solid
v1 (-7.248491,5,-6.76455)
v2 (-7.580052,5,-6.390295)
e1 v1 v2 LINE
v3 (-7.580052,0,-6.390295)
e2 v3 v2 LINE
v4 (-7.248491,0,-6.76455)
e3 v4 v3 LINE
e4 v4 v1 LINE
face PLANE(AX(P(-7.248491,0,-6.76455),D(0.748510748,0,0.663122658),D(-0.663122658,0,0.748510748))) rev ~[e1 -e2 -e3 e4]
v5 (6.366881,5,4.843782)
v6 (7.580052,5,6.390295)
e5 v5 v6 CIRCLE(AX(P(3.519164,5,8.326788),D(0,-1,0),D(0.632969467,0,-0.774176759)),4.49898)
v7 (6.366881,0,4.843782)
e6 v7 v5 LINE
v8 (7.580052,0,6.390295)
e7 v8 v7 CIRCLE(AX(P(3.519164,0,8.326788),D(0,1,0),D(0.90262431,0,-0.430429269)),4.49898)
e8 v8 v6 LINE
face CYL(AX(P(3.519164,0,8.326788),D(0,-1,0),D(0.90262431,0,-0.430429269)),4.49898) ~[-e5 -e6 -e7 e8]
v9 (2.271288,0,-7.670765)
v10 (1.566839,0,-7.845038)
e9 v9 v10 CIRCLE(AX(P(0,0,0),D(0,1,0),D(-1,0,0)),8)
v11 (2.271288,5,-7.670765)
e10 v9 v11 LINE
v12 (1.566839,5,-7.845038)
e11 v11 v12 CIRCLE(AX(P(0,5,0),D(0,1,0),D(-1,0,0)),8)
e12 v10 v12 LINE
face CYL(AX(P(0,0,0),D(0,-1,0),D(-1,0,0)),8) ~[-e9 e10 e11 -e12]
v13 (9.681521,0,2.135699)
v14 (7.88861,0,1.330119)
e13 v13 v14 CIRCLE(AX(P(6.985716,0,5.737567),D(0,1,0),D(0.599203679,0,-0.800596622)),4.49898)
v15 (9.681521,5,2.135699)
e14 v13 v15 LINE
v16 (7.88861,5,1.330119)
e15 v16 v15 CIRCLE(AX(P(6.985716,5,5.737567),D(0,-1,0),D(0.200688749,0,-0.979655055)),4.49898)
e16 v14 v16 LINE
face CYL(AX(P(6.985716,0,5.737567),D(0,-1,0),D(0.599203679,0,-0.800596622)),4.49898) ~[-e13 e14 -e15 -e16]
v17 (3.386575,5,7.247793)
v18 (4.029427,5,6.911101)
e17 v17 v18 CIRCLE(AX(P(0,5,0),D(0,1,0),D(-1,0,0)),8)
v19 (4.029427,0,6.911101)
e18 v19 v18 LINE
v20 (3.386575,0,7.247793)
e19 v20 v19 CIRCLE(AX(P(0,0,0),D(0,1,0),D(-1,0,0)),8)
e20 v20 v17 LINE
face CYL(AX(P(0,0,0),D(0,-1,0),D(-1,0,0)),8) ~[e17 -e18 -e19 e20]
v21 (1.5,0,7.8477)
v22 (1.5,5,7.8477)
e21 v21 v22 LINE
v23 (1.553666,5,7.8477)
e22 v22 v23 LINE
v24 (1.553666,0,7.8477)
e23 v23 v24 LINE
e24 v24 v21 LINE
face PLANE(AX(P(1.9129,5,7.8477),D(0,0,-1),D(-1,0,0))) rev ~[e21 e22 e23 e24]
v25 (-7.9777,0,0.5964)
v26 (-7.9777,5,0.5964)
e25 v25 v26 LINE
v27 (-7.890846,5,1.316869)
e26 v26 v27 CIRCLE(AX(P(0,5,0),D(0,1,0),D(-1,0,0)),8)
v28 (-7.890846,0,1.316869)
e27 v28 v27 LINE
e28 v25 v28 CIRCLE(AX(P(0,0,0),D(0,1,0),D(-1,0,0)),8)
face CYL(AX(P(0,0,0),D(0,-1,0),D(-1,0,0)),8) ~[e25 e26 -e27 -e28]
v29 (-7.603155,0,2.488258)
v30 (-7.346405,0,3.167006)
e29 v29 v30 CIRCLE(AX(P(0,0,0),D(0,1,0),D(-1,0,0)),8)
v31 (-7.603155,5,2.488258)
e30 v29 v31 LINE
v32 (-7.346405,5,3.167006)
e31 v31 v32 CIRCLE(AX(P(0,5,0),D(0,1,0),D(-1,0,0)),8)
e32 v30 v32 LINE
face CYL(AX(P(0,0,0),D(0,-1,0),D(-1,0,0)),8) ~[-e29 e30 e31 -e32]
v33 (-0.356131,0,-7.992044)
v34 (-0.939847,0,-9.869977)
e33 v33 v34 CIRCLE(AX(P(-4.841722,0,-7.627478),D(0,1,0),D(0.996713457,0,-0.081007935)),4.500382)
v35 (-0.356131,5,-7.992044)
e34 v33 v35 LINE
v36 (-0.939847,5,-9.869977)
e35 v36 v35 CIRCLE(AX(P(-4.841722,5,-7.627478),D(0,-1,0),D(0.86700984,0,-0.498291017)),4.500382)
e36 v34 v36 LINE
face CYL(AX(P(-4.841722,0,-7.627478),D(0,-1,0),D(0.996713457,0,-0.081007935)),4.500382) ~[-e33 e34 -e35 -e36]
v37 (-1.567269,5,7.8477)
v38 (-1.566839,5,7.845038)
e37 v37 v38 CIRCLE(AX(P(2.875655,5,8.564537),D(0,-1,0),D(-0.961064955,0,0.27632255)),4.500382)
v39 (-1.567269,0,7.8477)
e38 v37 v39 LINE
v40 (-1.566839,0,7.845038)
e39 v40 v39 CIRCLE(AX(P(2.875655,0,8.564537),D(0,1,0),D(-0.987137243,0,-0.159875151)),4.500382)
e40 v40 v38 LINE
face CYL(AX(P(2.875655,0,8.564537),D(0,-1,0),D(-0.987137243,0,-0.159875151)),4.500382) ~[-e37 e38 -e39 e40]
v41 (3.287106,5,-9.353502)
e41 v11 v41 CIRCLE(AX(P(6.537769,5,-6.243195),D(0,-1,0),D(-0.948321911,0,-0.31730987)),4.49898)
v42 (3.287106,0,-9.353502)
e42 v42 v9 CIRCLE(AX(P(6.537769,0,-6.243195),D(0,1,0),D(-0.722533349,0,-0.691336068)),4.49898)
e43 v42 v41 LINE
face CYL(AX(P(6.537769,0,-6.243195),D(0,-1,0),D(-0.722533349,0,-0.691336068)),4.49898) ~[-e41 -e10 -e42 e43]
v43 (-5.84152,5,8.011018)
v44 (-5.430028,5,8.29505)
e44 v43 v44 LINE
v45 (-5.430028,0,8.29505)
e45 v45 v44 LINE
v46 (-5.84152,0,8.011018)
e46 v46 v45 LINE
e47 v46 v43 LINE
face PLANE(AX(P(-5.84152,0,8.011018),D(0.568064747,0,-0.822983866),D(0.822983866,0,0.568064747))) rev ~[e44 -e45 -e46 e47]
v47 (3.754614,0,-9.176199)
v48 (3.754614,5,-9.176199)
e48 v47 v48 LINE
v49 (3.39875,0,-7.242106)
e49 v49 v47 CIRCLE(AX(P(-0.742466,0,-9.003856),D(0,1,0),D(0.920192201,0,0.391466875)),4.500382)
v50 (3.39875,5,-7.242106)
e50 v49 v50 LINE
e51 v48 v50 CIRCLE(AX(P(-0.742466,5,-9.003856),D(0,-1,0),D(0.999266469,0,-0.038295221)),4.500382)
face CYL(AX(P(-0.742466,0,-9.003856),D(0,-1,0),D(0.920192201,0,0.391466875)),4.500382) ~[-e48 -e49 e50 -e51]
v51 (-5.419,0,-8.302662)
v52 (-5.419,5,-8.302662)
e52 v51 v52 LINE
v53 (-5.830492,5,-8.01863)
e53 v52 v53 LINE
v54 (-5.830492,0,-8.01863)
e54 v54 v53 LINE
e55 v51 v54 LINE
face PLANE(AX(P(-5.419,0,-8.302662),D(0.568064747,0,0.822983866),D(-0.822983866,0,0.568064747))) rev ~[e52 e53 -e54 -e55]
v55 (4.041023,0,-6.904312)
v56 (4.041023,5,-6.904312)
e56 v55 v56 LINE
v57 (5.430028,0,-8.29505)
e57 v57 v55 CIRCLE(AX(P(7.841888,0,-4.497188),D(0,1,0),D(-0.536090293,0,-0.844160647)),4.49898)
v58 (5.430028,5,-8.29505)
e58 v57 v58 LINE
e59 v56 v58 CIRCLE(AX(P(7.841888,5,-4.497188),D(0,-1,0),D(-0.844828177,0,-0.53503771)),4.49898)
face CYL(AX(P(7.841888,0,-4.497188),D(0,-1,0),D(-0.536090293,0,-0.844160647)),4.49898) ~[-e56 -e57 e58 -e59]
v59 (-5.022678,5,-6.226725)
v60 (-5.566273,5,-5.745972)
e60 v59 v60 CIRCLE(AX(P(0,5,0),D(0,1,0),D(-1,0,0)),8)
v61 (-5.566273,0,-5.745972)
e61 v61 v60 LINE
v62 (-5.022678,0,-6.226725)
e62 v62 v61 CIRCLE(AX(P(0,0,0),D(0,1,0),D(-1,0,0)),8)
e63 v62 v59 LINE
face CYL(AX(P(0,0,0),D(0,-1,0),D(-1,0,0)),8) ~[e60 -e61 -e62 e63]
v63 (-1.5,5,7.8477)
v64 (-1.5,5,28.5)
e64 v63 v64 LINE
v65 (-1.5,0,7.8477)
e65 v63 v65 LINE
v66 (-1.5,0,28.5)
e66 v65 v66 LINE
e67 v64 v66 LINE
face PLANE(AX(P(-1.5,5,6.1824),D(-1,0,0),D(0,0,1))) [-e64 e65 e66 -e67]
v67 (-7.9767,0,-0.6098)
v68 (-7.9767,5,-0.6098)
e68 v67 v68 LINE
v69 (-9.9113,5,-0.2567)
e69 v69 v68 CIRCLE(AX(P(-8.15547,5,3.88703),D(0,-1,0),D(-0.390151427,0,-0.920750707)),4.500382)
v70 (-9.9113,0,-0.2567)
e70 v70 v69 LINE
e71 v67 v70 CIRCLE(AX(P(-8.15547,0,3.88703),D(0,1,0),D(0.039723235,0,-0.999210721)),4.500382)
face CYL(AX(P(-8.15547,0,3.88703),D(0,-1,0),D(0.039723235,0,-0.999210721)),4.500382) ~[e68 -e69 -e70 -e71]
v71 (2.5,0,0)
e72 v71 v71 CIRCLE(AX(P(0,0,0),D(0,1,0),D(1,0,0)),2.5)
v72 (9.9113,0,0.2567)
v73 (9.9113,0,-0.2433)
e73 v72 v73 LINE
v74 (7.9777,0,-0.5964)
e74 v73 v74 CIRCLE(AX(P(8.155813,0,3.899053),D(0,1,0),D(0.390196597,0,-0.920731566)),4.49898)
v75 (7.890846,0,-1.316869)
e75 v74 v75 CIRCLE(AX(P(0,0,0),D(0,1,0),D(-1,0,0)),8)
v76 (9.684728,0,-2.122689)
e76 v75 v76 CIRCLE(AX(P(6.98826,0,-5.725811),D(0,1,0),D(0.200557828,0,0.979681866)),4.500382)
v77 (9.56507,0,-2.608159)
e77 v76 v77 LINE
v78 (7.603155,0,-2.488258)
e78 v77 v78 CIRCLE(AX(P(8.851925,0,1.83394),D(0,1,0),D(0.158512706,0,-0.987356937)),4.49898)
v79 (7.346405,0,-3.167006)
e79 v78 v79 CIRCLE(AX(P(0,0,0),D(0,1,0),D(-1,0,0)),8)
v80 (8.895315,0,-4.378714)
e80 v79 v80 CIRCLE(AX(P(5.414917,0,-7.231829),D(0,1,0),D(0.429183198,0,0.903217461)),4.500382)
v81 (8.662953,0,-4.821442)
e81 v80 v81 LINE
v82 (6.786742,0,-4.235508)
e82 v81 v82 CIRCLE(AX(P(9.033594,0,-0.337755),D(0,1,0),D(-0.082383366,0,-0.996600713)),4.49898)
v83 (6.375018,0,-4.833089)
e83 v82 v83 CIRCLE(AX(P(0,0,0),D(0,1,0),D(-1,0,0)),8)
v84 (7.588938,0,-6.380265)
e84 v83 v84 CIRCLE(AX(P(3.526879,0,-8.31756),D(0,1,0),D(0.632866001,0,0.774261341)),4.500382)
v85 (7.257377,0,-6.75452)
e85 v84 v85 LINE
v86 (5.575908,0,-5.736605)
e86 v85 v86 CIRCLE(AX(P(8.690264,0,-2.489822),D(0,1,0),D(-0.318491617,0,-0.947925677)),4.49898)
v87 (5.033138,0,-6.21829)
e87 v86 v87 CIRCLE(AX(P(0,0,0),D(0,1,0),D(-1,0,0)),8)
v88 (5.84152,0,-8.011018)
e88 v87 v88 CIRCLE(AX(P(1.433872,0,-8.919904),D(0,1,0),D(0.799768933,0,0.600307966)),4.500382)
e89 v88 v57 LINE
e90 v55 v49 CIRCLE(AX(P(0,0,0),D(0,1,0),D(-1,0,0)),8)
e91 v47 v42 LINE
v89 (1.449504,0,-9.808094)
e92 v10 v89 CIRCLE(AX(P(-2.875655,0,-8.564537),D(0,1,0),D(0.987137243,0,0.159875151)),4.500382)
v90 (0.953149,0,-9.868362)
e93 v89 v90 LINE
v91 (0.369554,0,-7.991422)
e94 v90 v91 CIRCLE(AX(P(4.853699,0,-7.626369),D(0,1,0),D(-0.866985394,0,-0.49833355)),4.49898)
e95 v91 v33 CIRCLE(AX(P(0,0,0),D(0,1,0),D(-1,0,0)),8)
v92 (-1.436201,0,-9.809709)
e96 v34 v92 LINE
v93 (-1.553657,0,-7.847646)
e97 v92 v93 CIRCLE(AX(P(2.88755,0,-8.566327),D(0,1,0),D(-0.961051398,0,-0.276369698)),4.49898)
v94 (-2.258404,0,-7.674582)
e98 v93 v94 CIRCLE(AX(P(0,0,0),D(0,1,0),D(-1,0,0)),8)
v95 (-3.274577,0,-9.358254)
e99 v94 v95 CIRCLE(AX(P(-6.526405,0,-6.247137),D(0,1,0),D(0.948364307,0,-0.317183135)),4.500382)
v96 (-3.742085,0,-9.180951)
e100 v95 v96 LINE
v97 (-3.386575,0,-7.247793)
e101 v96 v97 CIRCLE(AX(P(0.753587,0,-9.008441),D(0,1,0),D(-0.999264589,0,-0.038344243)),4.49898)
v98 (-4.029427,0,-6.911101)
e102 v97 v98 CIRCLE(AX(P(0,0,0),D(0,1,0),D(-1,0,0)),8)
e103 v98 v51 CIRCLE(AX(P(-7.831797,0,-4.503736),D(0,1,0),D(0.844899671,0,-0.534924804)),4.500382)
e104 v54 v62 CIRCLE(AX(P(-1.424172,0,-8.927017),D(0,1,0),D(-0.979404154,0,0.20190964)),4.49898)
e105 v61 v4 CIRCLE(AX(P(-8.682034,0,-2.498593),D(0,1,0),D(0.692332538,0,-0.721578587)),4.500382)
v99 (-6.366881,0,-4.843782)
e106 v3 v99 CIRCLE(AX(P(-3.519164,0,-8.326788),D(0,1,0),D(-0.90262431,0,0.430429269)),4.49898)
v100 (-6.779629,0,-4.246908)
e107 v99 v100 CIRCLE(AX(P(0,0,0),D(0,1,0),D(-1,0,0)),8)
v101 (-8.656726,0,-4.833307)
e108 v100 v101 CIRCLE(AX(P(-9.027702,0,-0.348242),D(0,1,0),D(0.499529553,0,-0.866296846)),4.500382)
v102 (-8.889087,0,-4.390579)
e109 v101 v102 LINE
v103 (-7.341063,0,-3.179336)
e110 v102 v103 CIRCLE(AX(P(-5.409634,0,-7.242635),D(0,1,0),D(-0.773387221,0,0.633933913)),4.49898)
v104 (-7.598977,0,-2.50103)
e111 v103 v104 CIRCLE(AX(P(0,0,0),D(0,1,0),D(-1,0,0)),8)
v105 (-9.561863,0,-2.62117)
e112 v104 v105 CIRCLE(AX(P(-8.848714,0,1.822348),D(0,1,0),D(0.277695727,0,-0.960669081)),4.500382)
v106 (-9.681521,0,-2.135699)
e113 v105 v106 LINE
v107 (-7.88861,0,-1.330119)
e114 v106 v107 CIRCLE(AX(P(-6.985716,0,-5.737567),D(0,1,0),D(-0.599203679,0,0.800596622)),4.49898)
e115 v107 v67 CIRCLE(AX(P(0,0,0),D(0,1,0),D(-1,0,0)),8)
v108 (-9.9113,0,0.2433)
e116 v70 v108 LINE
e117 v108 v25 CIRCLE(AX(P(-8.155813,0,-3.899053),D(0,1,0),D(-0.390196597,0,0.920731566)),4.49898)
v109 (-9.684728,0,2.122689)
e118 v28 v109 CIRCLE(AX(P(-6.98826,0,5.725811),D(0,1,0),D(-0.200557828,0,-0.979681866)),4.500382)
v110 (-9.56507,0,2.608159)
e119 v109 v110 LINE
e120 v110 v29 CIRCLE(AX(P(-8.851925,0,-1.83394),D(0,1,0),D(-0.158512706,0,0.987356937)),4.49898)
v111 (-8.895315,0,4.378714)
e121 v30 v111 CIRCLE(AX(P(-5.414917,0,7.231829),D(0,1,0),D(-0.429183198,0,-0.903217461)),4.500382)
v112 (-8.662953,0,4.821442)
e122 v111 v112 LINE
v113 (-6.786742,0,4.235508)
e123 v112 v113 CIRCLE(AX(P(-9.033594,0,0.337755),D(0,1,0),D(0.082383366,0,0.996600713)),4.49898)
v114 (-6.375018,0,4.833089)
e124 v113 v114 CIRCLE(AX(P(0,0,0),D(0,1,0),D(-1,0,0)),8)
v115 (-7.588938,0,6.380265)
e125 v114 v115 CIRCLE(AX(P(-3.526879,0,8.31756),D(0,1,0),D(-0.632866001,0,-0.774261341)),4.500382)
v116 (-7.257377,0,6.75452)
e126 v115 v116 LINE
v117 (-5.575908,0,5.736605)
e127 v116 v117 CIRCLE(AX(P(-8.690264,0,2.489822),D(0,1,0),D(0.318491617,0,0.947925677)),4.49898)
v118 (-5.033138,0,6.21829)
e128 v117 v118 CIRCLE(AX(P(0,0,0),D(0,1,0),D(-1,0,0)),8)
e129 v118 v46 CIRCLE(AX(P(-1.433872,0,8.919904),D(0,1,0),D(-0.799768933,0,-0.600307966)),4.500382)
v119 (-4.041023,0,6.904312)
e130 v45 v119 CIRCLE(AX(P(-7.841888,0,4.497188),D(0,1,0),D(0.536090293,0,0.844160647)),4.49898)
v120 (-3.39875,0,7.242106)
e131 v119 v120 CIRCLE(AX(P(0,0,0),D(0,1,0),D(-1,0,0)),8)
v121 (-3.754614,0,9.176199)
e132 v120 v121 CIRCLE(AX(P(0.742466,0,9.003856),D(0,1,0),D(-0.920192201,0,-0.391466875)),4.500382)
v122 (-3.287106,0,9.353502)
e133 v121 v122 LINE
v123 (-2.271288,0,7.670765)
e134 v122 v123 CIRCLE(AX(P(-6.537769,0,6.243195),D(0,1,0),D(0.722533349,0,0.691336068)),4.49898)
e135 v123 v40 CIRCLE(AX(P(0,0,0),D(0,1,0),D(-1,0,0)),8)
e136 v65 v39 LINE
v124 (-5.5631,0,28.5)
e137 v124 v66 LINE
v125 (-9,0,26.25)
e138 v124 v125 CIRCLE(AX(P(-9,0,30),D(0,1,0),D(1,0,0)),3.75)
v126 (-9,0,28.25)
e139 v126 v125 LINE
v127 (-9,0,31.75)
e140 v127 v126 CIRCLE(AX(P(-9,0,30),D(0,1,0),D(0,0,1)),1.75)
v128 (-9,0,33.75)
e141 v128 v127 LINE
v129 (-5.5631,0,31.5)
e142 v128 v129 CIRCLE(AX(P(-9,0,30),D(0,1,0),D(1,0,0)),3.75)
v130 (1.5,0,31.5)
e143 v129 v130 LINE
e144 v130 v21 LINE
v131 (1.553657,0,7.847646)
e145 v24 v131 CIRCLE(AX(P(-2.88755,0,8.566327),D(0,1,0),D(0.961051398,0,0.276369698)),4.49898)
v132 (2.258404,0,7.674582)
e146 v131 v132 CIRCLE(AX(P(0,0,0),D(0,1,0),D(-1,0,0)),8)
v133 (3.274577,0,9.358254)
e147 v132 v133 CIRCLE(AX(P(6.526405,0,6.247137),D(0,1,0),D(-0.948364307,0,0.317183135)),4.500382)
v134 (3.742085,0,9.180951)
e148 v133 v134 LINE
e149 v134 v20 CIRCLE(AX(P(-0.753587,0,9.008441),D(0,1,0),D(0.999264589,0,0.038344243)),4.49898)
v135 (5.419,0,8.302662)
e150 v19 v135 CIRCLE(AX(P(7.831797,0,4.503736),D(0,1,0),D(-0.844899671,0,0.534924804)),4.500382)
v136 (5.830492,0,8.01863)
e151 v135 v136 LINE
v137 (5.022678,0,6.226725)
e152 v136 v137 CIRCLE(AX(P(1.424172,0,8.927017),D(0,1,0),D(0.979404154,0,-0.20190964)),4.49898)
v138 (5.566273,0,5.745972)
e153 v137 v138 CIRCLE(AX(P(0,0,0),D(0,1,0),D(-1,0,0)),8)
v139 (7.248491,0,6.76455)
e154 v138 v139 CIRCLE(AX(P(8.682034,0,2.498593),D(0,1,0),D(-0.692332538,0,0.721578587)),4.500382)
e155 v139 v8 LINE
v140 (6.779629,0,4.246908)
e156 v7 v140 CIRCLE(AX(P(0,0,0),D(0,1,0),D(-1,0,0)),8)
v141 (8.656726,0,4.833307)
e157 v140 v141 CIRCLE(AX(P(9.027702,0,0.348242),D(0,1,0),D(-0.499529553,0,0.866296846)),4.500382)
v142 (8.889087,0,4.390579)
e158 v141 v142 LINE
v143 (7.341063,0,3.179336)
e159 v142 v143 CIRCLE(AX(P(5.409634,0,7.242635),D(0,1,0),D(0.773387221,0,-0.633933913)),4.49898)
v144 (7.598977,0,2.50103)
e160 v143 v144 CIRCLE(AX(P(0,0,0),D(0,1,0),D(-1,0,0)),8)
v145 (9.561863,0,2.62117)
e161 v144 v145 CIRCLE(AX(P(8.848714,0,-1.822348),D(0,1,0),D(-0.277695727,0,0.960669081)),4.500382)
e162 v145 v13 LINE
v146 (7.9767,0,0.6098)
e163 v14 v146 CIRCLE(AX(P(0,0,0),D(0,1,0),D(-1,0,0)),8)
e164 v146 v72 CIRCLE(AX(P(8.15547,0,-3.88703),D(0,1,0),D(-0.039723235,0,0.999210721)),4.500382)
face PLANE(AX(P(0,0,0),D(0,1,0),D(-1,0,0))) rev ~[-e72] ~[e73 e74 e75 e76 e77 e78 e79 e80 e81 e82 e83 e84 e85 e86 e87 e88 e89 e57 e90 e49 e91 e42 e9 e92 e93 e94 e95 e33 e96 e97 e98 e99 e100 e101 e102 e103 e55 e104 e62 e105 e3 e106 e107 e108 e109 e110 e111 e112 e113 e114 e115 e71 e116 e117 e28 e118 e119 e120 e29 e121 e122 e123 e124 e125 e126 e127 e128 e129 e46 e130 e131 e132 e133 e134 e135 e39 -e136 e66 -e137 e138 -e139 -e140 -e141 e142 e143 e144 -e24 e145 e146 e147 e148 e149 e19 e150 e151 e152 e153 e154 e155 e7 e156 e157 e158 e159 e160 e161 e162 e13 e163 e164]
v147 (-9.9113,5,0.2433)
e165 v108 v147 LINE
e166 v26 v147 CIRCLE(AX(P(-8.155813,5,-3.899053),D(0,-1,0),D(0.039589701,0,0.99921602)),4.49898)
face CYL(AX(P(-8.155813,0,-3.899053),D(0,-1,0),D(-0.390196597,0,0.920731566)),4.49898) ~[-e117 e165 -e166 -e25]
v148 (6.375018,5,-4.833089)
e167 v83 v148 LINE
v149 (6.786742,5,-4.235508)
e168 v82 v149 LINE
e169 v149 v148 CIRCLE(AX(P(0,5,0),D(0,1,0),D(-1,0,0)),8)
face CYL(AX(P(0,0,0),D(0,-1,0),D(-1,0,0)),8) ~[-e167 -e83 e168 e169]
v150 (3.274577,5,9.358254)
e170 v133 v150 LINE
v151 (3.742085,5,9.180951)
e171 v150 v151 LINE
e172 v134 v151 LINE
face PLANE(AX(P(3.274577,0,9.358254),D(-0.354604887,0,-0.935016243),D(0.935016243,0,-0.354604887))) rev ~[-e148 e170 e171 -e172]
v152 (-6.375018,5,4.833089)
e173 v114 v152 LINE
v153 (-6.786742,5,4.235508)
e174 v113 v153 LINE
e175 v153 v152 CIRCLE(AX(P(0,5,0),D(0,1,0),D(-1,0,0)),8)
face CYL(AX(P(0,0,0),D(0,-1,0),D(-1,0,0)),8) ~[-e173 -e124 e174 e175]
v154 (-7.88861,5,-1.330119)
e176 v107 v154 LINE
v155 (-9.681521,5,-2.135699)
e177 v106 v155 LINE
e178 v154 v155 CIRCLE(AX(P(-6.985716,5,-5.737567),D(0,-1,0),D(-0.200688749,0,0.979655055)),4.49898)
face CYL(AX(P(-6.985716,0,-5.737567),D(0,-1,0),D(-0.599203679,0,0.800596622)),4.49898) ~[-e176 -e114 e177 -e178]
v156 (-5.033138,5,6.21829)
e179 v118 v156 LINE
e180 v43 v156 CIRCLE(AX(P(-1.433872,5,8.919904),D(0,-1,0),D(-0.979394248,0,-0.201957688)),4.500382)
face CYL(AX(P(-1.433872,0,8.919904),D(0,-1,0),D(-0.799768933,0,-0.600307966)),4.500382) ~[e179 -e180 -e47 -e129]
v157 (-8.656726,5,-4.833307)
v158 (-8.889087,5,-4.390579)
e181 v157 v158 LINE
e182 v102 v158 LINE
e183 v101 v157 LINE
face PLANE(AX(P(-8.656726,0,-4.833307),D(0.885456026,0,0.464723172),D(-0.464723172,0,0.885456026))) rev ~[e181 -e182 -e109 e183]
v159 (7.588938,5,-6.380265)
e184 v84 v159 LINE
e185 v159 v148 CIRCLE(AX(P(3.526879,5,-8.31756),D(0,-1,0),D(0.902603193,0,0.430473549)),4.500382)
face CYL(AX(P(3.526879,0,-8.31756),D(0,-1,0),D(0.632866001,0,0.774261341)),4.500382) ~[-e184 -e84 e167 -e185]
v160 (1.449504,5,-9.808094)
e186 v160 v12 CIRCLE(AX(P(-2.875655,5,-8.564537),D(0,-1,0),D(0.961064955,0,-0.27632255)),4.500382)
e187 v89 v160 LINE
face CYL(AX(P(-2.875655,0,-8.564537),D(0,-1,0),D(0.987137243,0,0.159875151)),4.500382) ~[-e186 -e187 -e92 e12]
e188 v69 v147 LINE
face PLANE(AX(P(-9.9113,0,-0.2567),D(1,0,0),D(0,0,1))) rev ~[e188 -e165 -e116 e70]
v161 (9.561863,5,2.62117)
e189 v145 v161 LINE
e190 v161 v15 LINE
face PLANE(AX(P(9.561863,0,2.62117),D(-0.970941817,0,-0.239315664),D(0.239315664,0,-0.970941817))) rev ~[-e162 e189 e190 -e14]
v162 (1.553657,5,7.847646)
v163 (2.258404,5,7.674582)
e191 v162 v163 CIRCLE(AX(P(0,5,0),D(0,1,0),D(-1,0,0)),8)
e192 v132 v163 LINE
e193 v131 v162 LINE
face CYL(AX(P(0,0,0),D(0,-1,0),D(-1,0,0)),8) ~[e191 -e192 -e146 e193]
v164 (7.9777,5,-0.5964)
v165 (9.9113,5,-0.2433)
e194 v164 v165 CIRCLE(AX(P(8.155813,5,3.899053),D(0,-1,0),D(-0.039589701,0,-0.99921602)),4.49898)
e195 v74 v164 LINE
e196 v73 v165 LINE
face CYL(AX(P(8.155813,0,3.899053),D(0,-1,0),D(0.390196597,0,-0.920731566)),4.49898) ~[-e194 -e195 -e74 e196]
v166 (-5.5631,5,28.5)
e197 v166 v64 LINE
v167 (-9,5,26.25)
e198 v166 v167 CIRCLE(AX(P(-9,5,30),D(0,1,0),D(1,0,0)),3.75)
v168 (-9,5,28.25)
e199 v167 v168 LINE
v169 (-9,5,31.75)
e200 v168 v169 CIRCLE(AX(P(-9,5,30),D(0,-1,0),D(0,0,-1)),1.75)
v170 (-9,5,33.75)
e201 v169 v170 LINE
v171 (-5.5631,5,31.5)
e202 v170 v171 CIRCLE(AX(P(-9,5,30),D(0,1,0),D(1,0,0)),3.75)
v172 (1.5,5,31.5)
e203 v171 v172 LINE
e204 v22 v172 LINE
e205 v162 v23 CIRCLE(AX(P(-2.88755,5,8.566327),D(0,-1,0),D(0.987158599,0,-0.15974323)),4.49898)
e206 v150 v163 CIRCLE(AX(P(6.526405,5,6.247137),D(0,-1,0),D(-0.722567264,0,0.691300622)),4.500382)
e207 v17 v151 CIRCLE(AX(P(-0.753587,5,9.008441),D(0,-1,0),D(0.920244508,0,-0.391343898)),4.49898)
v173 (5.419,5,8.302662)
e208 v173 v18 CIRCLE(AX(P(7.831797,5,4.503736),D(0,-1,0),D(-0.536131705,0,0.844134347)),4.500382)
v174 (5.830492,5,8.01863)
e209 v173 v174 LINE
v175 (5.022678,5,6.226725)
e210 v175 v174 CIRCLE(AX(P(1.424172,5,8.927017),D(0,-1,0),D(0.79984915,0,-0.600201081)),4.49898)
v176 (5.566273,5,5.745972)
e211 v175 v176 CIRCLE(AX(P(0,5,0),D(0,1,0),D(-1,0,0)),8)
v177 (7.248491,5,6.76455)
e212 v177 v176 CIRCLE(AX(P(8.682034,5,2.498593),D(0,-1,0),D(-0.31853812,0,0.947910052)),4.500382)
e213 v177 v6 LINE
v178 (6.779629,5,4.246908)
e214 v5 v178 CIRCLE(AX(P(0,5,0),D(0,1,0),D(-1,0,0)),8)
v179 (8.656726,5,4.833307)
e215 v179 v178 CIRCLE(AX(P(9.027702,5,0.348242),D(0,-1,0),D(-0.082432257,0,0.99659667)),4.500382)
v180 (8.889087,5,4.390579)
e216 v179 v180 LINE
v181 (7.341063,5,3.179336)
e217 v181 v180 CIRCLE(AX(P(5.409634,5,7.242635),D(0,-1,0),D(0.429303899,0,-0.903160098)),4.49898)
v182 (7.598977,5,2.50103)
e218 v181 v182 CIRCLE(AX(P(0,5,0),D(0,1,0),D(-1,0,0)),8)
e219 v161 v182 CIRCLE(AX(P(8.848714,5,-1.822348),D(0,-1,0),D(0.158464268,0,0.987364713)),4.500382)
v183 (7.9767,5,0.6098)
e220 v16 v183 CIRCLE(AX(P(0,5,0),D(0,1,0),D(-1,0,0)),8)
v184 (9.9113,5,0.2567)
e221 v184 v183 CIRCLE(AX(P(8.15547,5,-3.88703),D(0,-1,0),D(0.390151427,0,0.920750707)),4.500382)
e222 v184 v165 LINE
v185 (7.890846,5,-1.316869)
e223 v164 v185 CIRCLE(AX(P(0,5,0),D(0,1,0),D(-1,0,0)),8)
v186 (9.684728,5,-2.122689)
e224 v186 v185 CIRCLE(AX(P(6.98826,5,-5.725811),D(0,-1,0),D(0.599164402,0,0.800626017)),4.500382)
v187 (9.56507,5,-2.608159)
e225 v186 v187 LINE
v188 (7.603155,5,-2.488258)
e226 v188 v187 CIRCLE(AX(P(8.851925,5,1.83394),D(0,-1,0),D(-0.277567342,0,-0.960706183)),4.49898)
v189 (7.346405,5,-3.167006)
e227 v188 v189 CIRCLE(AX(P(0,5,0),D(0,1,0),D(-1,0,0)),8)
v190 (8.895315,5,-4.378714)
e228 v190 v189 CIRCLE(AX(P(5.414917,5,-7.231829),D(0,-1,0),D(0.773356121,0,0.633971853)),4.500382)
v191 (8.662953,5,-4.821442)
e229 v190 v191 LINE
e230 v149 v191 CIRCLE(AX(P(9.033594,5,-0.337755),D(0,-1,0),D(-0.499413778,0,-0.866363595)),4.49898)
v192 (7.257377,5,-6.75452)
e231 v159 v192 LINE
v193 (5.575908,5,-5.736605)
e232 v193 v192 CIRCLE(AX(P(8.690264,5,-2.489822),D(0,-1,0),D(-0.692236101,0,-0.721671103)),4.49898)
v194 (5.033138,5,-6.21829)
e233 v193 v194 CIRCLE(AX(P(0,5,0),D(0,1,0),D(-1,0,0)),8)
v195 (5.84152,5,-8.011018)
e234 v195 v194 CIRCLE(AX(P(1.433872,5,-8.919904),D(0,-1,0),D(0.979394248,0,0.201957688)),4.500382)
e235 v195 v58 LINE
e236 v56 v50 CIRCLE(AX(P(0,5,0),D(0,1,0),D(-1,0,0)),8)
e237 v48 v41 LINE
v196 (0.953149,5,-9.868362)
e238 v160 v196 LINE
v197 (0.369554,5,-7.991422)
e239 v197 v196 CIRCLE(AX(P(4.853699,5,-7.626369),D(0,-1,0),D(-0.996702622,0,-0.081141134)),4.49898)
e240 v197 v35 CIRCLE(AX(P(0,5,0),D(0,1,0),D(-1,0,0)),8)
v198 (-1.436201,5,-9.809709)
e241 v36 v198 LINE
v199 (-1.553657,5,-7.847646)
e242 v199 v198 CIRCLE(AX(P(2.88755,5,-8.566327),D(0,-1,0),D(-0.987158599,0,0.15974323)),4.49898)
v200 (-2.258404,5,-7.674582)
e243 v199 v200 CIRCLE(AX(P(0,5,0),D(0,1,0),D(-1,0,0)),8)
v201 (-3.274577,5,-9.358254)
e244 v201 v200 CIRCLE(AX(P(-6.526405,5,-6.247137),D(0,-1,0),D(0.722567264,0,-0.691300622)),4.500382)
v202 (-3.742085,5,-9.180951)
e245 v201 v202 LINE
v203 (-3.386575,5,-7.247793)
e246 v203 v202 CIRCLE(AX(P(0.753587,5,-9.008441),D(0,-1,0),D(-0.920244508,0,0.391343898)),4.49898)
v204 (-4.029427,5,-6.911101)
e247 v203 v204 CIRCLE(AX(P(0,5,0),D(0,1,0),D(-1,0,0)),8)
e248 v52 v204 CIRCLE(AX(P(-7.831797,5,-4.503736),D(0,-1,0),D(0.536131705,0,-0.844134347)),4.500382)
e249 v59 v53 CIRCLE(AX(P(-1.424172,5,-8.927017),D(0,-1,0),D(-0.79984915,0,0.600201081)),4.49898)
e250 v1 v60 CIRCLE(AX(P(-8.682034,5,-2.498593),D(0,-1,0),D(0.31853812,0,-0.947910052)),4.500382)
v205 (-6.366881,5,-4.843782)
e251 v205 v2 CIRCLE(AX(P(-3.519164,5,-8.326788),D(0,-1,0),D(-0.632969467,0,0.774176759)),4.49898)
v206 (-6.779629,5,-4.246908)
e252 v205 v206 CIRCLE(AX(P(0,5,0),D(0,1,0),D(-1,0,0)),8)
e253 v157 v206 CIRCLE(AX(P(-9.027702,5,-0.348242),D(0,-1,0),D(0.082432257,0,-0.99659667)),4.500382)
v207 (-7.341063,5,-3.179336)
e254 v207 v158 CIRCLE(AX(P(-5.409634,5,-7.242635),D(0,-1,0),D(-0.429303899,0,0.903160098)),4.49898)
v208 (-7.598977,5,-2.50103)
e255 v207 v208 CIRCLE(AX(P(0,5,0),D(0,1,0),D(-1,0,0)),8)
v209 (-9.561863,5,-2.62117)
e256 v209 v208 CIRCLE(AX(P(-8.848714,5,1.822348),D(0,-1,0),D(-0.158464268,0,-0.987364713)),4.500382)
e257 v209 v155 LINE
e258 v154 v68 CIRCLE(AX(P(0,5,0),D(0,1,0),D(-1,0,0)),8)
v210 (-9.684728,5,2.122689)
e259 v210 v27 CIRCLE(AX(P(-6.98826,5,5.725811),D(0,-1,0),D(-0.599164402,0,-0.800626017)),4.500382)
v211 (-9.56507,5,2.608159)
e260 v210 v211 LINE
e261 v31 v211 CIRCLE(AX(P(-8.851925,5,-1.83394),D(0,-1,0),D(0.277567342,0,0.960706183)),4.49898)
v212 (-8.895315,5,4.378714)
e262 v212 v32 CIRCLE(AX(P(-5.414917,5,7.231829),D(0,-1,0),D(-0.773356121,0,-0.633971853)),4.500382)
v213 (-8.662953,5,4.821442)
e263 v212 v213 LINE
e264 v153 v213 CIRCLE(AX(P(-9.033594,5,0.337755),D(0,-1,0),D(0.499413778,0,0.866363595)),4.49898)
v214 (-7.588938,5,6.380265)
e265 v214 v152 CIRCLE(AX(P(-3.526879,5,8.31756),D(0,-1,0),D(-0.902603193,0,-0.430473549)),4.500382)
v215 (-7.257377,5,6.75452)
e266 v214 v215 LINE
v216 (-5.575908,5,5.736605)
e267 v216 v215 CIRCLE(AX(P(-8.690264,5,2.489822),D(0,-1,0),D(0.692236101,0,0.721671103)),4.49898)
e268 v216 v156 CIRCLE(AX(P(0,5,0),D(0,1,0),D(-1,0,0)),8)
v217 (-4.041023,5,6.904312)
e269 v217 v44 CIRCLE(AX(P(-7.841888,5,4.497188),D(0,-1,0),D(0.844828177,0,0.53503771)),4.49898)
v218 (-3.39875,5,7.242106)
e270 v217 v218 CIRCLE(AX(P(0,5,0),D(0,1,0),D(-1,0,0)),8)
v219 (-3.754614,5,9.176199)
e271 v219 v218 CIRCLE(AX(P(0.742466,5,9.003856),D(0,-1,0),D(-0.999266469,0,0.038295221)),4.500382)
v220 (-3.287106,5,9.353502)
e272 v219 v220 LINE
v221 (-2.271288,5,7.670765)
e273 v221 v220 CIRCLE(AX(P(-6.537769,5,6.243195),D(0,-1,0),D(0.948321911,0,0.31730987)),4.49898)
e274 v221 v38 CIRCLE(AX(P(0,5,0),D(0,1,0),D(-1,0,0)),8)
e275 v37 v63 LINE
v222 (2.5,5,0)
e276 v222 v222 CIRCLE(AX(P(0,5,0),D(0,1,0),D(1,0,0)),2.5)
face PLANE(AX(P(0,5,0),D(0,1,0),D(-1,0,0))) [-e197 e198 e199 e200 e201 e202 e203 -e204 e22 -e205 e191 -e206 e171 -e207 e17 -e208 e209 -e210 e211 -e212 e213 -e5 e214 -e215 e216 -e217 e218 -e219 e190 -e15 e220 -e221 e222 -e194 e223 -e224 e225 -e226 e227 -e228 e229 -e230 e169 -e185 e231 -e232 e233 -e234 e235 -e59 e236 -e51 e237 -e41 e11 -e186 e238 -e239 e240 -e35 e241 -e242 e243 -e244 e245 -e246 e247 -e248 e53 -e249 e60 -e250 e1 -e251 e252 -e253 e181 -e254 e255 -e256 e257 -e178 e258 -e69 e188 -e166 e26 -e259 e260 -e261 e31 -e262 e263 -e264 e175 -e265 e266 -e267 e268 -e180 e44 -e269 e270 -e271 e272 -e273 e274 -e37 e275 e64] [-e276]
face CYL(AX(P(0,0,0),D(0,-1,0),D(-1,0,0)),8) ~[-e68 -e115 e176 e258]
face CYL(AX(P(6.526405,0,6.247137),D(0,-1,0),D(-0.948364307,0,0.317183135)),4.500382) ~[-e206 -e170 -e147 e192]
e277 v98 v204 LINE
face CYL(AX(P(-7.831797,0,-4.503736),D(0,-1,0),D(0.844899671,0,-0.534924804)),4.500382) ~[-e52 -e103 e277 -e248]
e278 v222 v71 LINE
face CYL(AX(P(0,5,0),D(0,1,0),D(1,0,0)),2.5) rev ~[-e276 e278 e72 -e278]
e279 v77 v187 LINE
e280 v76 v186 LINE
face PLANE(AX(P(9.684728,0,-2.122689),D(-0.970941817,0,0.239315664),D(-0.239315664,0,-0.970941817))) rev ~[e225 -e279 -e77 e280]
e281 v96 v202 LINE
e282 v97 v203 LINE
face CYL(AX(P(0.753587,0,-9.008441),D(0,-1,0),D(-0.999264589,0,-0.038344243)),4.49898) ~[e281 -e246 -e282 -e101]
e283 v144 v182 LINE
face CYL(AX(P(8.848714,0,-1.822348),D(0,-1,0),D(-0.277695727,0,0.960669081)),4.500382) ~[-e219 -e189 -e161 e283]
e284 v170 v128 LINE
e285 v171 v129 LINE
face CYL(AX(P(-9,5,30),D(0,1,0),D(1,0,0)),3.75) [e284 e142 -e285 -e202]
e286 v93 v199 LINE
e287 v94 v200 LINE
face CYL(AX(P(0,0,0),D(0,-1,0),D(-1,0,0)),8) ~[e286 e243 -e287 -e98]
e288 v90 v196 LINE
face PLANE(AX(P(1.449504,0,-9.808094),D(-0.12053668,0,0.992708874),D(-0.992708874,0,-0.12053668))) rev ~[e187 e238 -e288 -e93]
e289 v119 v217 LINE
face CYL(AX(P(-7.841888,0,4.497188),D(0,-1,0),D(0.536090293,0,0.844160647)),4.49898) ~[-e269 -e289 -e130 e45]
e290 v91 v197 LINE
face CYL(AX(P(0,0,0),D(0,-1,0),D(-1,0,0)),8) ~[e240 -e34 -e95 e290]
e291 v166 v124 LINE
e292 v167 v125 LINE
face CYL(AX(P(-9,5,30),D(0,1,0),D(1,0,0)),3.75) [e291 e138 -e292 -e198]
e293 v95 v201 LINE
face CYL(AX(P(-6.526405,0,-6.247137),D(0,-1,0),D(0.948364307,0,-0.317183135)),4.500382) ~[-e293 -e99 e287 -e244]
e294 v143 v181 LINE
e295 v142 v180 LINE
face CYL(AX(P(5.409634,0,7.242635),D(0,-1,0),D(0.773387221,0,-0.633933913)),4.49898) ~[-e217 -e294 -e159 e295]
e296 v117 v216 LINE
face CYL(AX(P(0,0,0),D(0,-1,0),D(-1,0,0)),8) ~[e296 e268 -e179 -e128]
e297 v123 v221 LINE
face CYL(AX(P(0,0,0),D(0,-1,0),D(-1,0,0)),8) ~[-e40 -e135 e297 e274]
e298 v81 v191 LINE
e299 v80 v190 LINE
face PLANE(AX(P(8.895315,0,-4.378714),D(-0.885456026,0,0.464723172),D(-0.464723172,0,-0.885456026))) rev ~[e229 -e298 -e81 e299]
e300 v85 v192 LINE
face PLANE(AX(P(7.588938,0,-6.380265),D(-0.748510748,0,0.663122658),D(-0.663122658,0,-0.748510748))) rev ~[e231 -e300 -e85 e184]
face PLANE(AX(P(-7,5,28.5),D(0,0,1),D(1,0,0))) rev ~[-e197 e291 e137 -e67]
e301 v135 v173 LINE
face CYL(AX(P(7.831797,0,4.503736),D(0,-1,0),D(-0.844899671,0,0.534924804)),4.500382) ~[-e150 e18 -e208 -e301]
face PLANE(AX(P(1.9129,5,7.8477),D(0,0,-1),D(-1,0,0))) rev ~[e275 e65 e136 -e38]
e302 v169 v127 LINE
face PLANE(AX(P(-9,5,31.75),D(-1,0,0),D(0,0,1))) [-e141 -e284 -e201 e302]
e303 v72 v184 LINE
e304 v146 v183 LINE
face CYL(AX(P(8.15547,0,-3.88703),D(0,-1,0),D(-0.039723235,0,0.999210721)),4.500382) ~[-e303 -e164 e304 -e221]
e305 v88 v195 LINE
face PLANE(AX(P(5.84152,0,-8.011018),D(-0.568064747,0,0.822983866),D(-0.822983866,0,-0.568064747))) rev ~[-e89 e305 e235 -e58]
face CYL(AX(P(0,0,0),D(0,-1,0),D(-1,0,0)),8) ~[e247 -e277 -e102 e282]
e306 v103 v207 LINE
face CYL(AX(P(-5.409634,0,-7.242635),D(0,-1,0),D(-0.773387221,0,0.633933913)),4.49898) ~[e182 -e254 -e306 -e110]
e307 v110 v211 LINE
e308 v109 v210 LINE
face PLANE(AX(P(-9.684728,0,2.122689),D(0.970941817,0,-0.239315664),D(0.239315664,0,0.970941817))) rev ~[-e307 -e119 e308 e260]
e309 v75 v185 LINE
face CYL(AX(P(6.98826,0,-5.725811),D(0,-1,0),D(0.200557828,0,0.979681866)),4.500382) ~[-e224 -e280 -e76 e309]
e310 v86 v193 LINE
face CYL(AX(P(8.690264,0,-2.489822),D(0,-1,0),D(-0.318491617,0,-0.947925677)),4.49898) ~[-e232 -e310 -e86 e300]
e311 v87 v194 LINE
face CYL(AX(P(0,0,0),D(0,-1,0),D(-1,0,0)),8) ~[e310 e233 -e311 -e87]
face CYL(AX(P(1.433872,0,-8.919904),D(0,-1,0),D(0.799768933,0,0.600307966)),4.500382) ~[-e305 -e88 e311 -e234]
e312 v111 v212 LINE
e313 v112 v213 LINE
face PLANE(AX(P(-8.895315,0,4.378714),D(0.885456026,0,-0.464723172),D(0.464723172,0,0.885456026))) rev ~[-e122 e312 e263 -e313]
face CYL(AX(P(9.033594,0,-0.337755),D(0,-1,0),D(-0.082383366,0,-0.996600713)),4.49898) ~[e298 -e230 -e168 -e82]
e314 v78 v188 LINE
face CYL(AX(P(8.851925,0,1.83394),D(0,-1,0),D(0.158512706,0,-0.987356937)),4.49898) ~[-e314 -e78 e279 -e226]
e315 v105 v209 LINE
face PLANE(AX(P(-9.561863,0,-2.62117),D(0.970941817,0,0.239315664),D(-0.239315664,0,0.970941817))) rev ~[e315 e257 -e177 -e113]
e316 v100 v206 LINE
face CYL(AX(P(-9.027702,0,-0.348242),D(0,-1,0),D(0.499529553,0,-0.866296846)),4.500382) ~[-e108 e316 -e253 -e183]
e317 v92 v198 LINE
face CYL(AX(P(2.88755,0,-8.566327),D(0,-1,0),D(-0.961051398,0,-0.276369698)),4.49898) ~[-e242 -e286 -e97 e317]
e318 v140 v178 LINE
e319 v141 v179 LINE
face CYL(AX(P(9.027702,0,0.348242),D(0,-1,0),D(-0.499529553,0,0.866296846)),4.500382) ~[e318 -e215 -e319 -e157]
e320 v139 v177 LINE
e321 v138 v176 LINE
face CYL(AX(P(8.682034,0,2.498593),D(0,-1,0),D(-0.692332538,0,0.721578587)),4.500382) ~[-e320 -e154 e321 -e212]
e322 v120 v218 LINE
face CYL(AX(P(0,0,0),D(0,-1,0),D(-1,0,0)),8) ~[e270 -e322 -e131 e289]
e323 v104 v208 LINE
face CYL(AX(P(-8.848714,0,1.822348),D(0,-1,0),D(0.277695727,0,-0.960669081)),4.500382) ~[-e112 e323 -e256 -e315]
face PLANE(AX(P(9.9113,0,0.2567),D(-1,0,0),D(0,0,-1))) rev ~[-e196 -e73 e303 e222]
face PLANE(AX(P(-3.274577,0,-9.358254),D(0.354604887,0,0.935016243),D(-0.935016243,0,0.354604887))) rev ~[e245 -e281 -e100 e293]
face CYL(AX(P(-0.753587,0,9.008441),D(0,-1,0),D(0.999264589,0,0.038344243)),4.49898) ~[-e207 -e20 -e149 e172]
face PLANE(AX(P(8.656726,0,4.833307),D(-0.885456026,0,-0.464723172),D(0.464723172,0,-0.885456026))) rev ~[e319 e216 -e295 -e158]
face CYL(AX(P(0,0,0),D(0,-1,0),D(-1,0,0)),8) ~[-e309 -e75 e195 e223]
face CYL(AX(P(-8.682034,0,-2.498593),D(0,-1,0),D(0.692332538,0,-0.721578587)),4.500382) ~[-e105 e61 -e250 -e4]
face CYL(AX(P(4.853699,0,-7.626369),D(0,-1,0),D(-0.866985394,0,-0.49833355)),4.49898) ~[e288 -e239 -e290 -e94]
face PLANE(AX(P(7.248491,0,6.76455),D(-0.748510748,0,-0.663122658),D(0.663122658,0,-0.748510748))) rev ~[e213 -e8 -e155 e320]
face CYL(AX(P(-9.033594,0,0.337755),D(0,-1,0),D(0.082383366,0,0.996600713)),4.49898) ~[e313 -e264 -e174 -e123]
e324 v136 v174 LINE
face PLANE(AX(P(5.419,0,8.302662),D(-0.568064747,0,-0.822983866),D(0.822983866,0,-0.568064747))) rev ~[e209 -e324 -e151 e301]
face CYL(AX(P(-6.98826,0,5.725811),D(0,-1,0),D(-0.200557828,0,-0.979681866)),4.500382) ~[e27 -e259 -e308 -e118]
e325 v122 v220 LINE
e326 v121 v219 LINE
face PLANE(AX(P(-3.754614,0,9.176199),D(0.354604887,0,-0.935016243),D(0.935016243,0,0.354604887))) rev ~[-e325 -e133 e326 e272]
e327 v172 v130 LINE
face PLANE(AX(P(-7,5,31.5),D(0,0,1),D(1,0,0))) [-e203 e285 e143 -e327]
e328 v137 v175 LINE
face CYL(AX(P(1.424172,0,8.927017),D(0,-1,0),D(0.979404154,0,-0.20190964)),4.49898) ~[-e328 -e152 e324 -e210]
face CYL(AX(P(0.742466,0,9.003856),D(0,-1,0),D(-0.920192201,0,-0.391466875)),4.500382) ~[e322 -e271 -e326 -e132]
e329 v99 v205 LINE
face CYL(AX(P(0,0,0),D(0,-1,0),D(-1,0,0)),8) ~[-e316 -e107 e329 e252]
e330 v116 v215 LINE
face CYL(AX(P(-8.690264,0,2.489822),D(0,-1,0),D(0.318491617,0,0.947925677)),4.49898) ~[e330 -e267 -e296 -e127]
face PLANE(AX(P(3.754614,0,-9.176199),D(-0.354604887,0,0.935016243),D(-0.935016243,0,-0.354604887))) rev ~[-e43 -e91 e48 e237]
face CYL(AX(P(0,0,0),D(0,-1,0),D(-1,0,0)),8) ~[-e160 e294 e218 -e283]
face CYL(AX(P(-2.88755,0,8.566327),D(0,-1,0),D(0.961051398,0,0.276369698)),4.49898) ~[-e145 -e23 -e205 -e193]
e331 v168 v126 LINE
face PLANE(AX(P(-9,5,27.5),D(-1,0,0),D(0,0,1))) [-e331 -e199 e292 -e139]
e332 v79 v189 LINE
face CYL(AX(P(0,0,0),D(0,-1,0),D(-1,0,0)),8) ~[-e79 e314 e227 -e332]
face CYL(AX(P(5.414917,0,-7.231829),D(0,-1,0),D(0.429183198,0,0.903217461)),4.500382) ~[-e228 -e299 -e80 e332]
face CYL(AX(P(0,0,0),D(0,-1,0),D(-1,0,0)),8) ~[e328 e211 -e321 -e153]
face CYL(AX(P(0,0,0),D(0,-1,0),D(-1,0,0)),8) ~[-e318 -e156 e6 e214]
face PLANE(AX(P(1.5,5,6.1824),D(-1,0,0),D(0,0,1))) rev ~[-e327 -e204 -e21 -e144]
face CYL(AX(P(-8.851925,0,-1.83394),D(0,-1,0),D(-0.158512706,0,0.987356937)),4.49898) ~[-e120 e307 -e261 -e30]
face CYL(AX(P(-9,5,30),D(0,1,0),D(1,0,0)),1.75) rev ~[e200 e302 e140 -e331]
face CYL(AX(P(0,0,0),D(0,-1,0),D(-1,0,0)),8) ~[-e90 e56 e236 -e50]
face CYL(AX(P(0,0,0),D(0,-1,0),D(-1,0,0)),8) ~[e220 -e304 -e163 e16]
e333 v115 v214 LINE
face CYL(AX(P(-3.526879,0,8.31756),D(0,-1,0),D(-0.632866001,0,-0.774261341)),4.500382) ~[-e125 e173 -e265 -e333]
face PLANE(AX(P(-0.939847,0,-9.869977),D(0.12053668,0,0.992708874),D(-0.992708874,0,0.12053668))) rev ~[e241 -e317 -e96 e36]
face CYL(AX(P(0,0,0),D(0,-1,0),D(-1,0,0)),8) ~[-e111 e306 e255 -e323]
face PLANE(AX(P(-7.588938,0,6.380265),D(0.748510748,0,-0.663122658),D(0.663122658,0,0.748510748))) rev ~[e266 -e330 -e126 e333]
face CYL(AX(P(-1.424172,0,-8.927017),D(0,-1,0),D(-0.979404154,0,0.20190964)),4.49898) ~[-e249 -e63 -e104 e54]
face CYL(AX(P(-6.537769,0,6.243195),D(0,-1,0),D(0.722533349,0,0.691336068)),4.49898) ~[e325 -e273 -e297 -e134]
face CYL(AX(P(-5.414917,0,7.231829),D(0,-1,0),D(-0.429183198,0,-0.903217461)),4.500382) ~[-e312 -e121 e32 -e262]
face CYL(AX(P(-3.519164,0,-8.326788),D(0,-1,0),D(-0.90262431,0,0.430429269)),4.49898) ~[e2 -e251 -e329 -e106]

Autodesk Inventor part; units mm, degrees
ref_plane "YZ Plane" through (0, 0, 0) normal (1, 0, 0) x (0, 1, 0)
ref_plane "XZ Plane" through (0, 0, 0) normal (0, 1, 0) x (-1, 0, 0)
ref_plane "XY Plane" through (0, 0, 0) normal (0, 0, 1) x (1, 0, 0)
sketch "Sketch1" plane through (0, 0, 0) normal (0, 1, 0) x (-1, 0, 0)
  circle A0 centre (0, 0) radius 8
  circle A1 centre (0, 0) radius 2
  line L0 (7.9113, 0.5933) -> (7.9113, -0.6067)
  line L1 (9.9113, -0.2567) -> (9.9113, 0.2433)
  line L2 (7.6237, -0.0067) -> (9.0479, -0.0067) construction
  arc A2 (9.9113, 0.2433) -> (7.9113, 0.5933) centre (8.1555, -3.9001) ccw construction
  arc A3 (7.9113, -0.6067) -> (9.9113, -0.2567) centre (8.1555, 3.8866) ccw construction
  arc A4 (9.9113, 0.2433) -> (7.9113, 0.5933) centre (8.1555, -3.9001) ccw construction
  arc A5 (9.9113, 0.2433) -> (7.9777, 0.5964) centre (8.1555, -3.9001) ccw
  arc A6 (7.9767, -0.6098) -> (9.9113, -0.2567) centre (8.1555, 3.8866) ccw
  line L3 (9.4, 0) -> (9.4, -0.4379)
  line L4 (9.4, 0) -> (9.4, 0.4244)
  arc A7 (5.296, -1.8919) -> (5.296, 1.8784) centre (4.6281, -0.0067) ccw
  circle A8 centre (0, 0) radius 8
  dimension "d0" = 16
  dimension "d1" = 4
  dimension "d2" = 0.25
  dimension "d3" = 0.25
  dimension "d4" = 0.6
  dimension "d7" = 1.2
  dimension "d8" = 4.5
  dimension "d10" = 2
extrude "Extrusion1" add sketch "Sketch1" along normal blind 5
pattern_circular "Circular Pattern1" count 26 over 360 about axis through (0, 0, 0) along (0, 1, 0) of "Extrusion1"
sketch "Sketch8" plane through (0, 5, 0) normal (0, 1, 0) x (1, 0, 0)
  circle A0 centre (0, 0) radius 2.5
  circle A1 centre (0, 0) radius 2
  dimension "d49" = 5
  dimension "d50" = 4
extrude "Extrusion6" cut sketch "Sketch8" against normal blind 13.8125
sketch "Sketch12" plane through (0, 5, 0) normal (0, 1, 0) x (1, 0, 0)
  circle A0 centre (0, 0) radius 2.5 projected
  line L0 (0, 0) -> (-1.5, 0)
  line L1 (-1.5, 0) -> (-1.5, -14.191)
  line L2 (-1.5, -14.191) -> (0, -14.191)
  line L3 (0, -14.191) -> (0, 0)
  line L4 (0, -14.191) -> (1.5, -14.191)
  line L5 (1.5, -14.191) -> (1.5, -6.1824)
  line L6 (1.5, -6.1824) -> (0, -6.1824)
  line L7 (0, -6.1824) -> (0, -14.191)
  line L8 (-1.5, -14.191) -> (0, -14.191)
  line L9 (0, -14.191) -> (0, -6.1824)
  line L10 (0, -6.1824) -> (-1.5, -6.1824)
  line L11 (-1.5, -6.1824) -> (-1.5, -14.191)
  dimension "d89" = 1.5
  dimension "d90" = 1.5
extrude "Extrusion10" cut sketch "Sketch12" against normal blind 10 contours L10 L3 L2 L1 | L6 L5 L4 L3
sketch "Sketch14" plane through (0, 5, 0) normal (0, 1, 0) x (1, 0, 0)
  line L0 (1.9129, -7.8477) -> (1.156, -7.8477)
  line L1 (1.156, -7.8477) -> (1.156, -9.6618)
  line L2 (1.156, -9.6618) -> (1.9129, -9.6618)
  line L3 (1.9129, -9.6618) -> (1.9129, -7.8477)
  line L4 (1.156, -9.6618) -> (-2.0763, -9.6618)
  line L5 (-2.0763, -9.6618) -> (-2.0763, -7.8477)
  line L6 (-2.0763, -7.8477) -> (1.156, -7.8477)
  line L7 (1.156, -7.8477) -> (1.156, -9.6618)
  point P0 (0, 0)
extrude "Extrusion11" cut sketch "Sketch14" against normal blind 10
sketch "Sketch15" plane through (0, 5, 0) normal (0, 1, 0) x (1, 0, 0)
  line L0 (0, 0) -> (-9, 0)
  line L1 (-9, 0) -> (-9, -30)
  line L2 (-9, -30) -> (0, -30)
  line L3 (0, -30) -> (0, 0)
  line L4 (1.5, -6.1824) -> (1.5, -7.8477) projected
  line L5 (1.5, -6.1824) -> (-1.5, -6.1824)
  line L6 (-1.5, -6.1824) -> (-1.5, -30)
  line L7 (-1.5, -30) -> (1.5, -30)
  line L8 (1.5, -30) -> (1.5, -6.1824)
  line L9 (1.5, -30) -> (-9, -30)
  line L10 (-9, -30) -> (-9, -31.5)
  line L11 (-9, -31.5) -> (1.5, -31.5)
  line L12 (1.5, -31.5) -> (1.5, -30)
  line L13 (1.5, -30) -> (-9, -30)
  line L14 (-9, -30) -> (-9, -28.5)
  line L15 (-9, -28.5) -> (1.5, -28.5)
  line L16 (1.5, -28.5) -> (1.5, -30)
  circle A0 centre (-9, -30) radius 1.75
  circle A1 centre (-9, -30) radius 2.5
  line L17 (-9, -31.5) -> (-9, -32.8448)
  line L18 (-9, -32.8448) -> (-9, -26.54)
  point P0 (-1.5, -28.5)
  point P1 (-7, -28.5)
  point P2 (-9, -27.5)
  point P3 (-9, -28.25)
  point P4 (-9, -31.75)
  point P5 (-9, -32.5)
  point P6 (-7, -31.5)
  dimension "d95" = 9
  dimension "d96" = 30
  dimension "d97" = 3
  dimension "d98" = 1.5
  dimension "d99" = 1.5
  dimension "d100" = 3.5
  dimension "d101" = 5
extrude "Extrusion12" add sketch "Sketch15" against normal blind 5 contours L5 L4 L8 L15 L3 | L3 L15 L6 L5 | L15 L8 L7 L3 | L3 L2 L6 L15 | A1 L15 A0 L1 | L7 L12 L11 A1 L2 | L6 L2 A1 L15 | A1 L2 A0 L15 | L17 A0 L11 A1 | A1 L11 A0 L2
sketch "Sketch16" plane through (0, 5, 0) normal (0, 1, 0) x (1, 0, 0)
  arc A0 (-9, -31.75) -> (-9, -28.25) centre (-9, -30) ccw projected
  circle A1 centre (-9, -30) radius 1.75
  line L0 (-9, -31.75) -> (-9, -33.75)
  line L1 (-9, -28.25) -> (-9, -27.5) projected
  line L2 (-9, -28.25) -> (-9, -26.25)
  circle A2 centre (-9, -30) radius 3.75
  circle A3 centre (-9, -30) radius 2.5
  line L3 (1.5, -31.5) -> (-7, -31.5) projected
  line L4 (-5.5631, -31.5) -> (-7, -31.5)
  line L5 (-1.5, -28.5) -> (-7, -28.5) projected
  line L6 (-5.5631, -28.5) -> (-7, -28.5)
  point P0 (0, 0)
  point P1 (-9, -32.5)
  dimension "d104" = 2
  dimension "d105" = 2
  dimension "d106" = 7.5
  dimension "d107" = 5
extrude "Extrusion13" add sketch "Sketch16" against normal blind 5 contours A3 L3 A2 L0 | L2 A2 L5 A3
properties part number "Free gear"
